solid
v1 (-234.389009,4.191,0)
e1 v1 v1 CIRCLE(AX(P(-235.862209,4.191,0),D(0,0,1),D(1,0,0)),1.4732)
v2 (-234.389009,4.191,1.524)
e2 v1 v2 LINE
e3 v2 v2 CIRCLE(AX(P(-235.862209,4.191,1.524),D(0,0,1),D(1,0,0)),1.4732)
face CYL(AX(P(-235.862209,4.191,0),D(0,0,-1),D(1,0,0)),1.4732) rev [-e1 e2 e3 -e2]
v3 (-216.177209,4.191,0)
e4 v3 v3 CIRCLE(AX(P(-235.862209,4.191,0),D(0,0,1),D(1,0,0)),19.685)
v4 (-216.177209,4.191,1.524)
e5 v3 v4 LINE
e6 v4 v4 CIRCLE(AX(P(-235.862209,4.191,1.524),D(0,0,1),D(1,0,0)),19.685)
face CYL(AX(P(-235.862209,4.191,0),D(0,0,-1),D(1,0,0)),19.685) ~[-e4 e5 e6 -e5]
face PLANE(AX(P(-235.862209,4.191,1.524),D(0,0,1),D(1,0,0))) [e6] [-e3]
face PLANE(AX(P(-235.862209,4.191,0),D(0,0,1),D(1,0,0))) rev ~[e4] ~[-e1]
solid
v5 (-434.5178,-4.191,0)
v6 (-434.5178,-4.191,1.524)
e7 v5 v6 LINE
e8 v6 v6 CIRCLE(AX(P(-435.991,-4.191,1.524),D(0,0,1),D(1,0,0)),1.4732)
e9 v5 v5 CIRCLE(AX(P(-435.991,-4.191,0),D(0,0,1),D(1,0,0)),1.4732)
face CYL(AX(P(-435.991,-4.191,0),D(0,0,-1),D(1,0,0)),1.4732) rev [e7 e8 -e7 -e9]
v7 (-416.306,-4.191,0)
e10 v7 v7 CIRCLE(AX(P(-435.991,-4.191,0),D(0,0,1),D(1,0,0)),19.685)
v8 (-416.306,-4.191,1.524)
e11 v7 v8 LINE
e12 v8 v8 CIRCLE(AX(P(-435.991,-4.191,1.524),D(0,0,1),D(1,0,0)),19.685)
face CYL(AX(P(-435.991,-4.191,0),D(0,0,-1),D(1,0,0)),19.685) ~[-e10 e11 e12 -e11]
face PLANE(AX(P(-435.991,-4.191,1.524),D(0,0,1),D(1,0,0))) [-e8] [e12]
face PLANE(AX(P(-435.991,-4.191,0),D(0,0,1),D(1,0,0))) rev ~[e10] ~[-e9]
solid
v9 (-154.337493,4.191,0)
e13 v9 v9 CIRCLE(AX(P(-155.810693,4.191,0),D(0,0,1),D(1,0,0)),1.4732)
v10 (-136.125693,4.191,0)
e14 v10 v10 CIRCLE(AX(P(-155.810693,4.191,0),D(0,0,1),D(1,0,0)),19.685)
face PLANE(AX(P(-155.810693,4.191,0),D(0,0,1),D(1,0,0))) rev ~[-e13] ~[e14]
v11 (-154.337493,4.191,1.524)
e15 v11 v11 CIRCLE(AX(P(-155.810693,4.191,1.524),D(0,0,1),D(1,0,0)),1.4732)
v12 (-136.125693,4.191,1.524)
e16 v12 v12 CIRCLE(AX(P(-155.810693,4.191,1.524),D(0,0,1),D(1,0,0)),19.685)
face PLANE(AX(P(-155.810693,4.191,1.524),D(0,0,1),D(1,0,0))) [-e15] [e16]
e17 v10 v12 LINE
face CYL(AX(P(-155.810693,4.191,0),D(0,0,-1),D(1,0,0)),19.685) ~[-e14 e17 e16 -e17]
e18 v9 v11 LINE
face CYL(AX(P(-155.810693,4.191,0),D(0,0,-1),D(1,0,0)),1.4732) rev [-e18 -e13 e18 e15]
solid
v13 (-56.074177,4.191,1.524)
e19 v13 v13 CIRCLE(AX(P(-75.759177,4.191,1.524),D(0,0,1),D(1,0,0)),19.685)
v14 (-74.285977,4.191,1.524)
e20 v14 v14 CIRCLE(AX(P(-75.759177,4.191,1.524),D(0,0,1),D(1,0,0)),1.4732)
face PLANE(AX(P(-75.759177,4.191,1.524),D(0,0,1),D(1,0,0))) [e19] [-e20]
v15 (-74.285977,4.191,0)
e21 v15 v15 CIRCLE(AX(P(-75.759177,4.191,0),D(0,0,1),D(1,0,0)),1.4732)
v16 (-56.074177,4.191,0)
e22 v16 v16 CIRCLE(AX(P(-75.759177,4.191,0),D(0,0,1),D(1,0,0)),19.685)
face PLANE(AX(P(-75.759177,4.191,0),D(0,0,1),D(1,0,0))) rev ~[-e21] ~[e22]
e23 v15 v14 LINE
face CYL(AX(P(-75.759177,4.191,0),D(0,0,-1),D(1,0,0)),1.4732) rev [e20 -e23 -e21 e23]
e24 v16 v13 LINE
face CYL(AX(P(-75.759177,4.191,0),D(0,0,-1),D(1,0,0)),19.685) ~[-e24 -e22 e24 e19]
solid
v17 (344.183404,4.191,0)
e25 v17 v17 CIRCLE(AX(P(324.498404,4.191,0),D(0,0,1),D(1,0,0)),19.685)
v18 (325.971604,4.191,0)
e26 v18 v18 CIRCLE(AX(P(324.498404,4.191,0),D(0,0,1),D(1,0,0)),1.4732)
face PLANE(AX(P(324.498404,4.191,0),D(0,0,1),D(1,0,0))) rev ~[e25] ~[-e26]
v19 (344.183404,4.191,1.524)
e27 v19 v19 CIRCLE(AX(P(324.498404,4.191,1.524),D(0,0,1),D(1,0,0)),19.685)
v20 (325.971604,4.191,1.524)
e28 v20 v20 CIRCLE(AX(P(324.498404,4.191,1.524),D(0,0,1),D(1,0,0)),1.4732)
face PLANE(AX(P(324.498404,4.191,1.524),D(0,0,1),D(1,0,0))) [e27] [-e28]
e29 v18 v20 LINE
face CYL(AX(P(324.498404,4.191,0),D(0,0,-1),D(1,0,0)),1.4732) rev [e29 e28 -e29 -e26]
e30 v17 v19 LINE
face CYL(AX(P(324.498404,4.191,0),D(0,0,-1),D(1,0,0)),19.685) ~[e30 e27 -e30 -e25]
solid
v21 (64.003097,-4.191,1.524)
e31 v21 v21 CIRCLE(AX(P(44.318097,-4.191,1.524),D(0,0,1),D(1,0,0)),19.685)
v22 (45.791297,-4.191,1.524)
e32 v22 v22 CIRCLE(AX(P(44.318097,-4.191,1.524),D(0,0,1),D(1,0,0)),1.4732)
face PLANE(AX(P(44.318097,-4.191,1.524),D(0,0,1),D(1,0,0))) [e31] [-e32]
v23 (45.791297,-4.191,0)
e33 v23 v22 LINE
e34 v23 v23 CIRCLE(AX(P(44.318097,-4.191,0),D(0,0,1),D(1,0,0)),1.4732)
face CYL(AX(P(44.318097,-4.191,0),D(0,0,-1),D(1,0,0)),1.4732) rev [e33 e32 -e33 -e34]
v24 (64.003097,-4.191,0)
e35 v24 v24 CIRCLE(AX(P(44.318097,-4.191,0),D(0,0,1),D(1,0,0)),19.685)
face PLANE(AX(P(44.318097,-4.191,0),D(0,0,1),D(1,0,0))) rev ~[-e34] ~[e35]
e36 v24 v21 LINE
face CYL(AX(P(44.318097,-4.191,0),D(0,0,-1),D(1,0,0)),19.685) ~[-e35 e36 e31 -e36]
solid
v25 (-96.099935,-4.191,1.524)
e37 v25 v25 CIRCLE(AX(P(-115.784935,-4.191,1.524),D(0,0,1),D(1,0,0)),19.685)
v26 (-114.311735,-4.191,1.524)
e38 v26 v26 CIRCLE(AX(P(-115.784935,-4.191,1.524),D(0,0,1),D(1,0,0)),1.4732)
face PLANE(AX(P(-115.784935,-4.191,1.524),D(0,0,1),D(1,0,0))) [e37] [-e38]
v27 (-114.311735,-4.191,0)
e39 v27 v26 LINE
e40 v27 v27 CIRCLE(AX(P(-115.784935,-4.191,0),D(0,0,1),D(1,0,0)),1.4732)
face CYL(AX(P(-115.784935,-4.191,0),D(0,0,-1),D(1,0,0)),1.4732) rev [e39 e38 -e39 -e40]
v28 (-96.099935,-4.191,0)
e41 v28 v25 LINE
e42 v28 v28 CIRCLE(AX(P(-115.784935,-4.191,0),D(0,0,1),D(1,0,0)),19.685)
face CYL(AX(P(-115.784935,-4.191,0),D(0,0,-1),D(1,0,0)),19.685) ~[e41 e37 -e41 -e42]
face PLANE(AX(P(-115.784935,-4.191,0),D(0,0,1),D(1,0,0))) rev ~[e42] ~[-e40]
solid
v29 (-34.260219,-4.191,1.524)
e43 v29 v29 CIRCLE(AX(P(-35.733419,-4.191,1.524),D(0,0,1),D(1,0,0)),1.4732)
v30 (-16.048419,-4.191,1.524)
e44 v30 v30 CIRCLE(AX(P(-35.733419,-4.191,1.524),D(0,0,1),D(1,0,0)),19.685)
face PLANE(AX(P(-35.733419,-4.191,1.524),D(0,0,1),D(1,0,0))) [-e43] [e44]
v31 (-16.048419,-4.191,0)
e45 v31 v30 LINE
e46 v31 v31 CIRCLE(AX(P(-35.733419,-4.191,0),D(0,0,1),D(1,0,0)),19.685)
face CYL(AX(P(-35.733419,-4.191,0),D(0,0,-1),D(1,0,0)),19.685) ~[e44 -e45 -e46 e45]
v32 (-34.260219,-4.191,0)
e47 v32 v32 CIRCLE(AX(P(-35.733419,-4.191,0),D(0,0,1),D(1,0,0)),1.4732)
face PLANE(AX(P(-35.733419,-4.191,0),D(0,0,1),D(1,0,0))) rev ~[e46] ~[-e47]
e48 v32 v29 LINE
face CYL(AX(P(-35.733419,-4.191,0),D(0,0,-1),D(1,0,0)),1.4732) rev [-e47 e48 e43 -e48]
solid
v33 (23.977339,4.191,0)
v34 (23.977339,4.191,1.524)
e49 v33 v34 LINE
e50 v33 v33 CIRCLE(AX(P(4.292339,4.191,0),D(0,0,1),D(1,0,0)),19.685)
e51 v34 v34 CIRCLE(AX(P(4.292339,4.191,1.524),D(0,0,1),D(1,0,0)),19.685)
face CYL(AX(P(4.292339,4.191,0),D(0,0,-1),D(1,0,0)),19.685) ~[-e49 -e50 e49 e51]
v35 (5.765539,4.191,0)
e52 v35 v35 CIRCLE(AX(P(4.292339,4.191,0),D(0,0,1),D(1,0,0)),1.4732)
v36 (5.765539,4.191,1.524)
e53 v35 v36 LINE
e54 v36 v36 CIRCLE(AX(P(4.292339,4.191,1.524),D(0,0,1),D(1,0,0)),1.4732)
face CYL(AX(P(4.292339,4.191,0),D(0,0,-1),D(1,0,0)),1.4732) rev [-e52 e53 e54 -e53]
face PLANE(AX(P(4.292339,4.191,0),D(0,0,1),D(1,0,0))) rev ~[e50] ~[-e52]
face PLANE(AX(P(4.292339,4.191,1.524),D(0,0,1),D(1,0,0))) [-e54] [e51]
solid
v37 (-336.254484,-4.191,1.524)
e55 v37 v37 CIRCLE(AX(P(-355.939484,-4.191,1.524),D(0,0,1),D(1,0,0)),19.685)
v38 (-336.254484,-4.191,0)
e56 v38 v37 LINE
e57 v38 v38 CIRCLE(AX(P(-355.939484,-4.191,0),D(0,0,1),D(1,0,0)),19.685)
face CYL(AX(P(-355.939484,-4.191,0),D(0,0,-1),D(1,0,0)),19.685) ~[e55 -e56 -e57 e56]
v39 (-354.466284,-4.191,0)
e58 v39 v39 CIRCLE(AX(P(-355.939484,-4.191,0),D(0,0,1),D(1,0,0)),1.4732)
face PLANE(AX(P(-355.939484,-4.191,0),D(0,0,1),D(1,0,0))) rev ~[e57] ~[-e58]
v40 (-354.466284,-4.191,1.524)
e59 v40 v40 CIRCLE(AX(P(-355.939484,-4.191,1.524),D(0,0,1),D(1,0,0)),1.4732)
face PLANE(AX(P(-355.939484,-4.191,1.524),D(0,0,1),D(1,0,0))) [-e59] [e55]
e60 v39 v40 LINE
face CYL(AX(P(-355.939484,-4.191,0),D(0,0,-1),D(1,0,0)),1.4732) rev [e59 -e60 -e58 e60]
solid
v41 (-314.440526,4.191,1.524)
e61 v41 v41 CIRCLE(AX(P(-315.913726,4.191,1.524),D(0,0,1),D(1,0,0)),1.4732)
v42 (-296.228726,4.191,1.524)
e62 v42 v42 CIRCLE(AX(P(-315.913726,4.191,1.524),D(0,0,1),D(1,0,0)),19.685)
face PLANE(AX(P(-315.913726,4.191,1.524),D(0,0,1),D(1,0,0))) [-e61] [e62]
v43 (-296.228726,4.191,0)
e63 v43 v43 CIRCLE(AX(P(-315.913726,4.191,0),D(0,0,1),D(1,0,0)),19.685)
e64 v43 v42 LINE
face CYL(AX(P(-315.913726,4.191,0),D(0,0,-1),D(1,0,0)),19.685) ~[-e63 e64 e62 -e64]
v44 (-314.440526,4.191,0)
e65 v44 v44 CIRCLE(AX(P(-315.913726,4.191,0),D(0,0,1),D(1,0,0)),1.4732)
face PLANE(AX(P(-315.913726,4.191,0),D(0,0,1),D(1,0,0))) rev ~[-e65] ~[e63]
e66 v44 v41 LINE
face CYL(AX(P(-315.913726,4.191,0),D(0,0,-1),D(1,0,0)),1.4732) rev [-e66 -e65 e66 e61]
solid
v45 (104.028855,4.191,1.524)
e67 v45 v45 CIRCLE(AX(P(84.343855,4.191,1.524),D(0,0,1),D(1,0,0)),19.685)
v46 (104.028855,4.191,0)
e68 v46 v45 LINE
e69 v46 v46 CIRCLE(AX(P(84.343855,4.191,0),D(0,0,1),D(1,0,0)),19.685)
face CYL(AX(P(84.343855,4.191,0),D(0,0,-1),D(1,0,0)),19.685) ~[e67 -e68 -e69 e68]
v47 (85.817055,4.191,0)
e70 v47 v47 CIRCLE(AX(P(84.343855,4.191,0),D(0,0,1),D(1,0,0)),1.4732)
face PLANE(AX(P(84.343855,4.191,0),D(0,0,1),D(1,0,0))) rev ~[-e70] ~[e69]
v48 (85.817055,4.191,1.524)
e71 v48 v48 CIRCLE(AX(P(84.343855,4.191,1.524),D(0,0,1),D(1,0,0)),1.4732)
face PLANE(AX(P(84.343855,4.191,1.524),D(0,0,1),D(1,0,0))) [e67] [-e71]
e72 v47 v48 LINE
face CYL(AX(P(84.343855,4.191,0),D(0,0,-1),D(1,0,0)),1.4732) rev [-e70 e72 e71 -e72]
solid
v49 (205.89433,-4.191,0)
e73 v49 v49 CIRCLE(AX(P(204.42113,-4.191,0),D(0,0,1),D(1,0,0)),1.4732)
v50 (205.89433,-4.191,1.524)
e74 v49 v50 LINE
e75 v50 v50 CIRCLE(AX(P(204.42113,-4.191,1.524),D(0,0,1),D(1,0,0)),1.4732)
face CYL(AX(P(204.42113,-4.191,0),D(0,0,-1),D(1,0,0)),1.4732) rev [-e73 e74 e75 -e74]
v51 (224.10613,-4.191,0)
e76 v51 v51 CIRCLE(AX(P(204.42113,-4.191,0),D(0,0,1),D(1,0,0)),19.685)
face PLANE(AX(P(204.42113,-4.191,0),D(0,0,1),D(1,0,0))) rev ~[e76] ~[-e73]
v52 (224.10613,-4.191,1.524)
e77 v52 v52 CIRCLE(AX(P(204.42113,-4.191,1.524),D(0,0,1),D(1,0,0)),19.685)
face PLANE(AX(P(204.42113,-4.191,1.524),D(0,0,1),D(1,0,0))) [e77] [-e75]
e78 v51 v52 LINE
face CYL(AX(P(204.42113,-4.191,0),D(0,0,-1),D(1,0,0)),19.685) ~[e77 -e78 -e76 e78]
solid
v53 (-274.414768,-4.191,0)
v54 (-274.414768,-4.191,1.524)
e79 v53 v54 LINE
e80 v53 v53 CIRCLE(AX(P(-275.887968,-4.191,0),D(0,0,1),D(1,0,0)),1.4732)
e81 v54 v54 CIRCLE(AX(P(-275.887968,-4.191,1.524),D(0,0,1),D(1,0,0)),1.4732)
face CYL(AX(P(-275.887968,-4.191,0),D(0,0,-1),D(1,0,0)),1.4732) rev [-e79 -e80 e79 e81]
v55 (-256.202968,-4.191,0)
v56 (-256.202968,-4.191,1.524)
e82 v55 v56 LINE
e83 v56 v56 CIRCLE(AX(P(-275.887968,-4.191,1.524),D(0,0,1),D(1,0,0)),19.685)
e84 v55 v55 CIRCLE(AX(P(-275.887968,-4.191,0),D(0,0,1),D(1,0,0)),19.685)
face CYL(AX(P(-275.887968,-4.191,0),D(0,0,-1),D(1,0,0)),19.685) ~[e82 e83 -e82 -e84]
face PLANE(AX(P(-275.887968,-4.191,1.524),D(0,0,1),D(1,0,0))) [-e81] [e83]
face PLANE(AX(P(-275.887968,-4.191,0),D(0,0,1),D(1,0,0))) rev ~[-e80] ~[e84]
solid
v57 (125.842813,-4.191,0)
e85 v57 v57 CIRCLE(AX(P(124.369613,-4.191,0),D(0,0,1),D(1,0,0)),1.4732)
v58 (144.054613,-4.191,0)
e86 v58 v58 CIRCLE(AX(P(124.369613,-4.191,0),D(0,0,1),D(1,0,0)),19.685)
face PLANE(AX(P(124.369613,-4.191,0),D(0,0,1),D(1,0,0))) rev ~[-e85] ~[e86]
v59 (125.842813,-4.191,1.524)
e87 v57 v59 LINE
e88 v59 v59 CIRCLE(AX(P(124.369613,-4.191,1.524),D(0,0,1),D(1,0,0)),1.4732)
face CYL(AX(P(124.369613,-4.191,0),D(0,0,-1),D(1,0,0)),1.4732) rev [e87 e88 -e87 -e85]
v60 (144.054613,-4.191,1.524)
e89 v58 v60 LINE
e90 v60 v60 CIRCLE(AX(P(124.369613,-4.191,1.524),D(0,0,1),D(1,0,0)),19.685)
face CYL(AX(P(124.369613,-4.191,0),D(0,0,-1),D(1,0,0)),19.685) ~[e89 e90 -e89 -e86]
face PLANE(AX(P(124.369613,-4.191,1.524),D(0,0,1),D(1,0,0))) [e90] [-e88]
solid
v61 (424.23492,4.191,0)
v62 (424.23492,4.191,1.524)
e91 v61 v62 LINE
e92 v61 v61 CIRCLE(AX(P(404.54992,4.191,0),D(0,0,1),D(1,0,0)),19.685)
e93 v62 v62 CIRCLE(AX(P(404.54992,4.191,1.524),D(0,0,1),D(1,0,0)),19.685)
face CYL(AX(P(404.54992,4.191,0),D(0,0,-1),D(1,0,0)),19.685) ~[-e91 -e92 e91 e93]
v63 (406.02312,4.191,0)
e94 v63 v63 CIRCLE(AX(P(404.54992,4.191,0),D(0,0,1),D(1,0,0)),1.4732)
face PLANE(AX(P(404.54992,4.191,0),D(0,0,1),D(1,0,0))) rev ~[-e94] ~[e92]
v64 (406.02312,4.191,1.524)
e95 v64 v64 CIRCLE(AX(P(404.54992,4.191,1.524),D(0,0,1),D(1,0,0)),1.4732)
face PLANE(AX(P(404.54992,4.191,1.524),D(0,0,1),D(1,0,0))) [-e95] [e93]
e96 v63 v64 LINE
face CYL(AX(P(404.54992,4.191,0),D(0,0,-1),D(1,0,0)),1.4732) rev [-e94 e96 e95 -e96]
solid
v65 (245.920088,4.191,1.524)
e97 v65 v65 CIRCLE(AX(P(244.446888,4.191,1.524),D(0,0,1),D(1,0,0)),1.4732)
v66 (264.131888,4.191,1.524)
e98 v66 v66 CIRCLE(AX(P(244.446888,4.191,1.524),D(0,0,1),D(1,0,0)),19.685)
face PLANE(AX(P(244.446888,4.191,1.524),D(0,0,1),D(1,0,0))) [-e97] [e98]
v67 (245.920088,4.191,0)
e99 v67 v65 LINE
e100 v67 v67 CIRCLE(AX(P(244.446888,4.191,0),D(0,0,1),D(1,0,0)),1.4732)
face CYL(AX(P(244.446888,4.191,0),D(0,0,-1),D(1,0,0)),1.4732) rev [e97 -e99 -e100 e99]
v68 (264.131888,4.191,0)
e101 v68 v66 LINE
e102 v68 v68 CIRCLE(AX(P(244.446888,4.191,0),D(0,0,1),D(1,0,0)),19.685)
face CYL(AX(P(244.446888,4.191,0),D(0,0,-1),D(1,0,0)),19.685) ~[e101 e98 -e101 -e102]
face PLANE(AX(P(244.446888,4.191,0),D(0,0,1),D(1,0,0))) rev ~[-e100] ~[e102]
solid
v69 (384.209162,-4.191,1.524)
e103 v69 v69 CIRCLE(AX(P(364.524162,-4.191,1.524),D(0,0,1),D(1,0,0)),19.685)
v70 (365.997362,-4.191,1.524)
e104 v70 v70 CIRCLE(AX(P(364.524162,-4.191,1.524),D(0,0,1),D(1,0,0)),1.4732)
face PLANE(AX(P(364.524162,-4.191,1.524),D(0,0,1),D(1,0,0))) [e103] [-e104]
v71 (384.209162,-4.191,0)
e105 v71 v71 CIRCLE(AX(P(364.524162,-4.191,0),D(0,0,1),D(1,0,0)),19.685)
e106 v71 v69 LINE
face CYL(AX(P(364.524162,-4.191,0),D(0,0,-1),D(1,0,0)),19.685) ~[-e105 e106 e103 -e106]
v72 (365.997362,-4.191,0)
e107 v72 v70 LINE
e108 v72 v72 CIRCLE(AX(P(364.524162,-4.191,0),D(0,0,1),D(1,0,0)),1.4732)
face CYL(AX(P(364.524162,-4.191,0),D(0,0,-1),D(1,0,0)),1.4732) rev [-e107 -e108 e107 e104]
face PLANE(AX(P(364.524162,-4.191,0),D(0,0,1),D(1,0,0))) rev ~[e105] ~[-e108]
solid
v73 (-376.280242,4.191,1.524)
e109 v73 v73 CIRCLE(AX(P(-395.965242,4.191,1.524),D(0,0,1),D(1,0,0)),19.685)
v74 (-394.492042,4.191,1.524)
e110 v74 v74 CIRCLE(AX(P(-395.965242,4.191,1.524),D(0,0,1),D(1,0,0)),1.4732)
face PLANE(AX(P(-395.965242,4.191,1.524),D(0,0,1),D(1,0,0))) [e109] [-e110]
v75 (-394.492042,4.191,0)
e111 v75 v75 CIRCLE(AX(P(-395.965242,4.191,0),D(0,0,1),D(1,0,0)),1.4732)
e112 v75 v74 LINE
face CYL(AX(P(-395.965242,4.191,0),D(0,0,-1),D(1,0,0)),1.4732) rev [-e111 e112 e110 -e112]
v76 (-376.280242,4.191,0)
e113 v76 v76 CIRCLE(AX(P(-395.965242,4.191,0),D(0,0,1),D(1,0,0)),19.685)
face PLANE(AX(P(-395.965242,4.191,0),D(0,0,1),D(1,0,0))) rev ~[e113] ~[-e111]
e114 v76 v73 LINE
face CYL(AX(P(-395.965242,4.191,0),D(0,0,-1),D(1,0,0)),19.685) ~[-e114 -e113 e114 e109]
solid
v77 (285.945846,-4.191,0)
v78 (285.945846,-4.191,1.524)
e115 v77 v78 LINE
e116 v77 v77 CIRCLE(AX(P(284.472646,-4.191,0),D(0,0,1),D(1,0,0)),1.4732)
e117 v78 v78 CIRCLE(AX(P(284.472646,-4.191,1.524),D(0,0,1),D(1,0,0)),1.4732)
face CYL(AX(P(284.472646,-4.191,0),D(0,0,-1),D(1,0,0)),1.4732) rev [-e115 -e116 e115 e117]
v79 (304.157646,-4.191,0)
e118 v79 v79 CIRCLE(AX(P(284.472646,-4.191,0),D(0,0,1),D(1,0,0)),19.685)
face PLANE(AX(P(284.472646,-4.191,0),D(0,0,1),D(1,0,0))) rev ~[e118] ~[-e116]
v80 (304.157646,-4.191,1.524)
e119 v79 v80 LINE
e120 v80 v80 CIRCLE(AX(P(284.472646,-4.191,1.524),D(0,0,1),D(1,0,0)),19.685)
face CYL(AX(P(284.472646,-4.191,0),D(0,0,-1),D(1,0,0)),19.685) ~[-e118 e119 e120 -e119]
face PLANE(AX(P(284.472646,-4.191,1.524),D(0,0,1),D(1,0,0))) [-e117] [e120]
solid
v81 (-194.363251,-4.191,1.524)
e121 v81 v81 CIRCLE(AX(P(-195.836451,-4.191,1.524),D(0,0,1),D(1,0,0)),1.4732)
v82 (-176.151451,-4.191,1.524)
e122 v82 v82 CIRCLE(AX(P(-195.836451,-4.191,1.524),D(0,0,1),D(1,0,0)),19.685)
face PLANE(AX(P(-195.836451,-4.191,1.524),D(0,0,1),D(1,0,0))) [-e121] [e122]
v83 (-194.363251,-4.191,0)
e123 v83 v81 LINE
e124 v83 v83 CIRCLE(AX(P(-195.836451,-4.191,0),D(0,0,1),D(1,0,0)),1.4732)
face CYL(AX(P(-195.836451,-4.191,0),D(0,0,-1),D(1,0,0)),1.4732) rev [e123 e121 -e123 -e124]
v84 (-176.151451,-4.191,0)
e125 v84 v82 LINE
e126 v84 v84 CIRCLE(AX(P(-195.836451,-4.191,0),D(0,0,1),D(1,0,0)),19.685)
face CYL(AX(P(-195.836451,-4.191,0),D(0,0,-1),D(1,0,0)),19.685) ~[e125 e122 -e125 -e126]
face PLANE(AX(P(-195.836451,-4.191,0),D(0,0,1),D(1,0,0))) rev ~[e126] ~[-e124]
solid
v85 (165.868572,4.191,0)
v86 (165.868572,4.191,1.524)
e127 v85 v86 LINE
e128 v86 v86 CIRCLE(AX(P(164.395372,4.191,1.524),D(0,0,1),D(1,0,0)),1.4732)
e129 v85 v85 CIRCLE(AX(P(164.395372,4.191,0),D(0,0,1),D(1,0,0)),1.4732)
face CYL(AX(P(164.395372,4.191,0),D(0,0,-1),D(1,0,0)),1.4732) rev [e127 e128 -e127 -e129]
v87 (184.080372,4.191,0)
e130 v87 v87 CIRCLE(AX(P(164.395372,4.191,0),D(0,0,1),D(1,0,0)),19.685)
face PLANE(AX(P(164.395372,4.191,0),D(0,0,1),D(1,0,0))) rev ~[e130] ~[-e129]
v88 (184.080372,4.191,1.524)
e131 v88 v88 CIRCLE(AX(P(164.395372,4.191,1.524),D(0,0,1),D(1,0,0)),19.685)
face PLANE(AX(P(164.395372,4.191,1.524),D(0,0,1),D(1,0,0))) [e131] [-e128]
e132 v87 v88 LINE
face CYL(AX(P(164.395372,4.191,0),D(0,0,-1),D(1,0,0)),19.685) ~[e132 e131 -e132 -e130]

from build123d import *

# Parameters (mm, degrees)
SKETCH1_R              = 19.685
SKETCH1_R_2            = 1.4732
BOSS_EXTRUDE1_DEPTH    = 1.524
BOSS_EXTRUDE1_2_DEPTH  = 1.524
BOSS_EXTRUDE1_3_DEPTH  = 1.524
BOSS_EXTRUDE1_4_DEPTH  = 1.524
BOSS_EXTRUDE1_5_DEPTH  = 1.524
BOSS_EXTRUDE1_6_DEPTH  = 1.524
BOSS_EXTRUDE1_7_DEPTH  = 1.524
BOSS_EXTRUDE1_8_DEPTH  = 1.524
BOSS_EXTRUDE1_9_DEPTH  = 1.524
BOSS_EXTRUDE1_10_DEPTH = 1.524
BOSS_EXTRUDE1_11_DEPTH = 1.524
BOSS_EXTRUDE1_12_DEPTH = 1.524
BOSS_EXTRUDE1_13_DEPTH = 1.524
BOSS_EXTRUDE1_14_DEPTH = 1.524
BOSS_EXTRUDE1_15_DEPTH = 1.524
BOSS_EXTRUDE1_16_DEPTH = 1.524
BOSS_EXTRUDE1_17_DEPTH = 1.524
BOSS_EXTRUDE1_18_DEPTH = 1.524
BOSS_EXTRUDE1_19_DEPTH = 1.524
BOSS_EXTRUDE1_20_DEPTH = 1.524
BOSS_EXTRUDE1_21_DEPTH = 1.524
BOSS_EXTRUDE1_22_DEPTH = 1.524


with BuildPart() as part:
    # Sketch1 → Boss-Extrude1 (new body)
    with BuildSketch(Plane.XY):
        with Locations((-435.991, -4.191)):
            Circle(SKETCH1_R)
        with Locations((-435.991, -4.191)):
            Circle(SKETCH1_R_2, mode=Mode.SUBTRACT)
    extrude(amount=BOSS_EXTRUDE1_DEPTH)


with BuildPart() as body_2:
    # Sketch1 → Boss-Extrude1 2 (new body)
    with BuildSketch(Plane.XY):
        with Locations((-395.965241894, 4.191)):
            Circle(SKETCH1_R)
        with Locations((-395.965241894, 4.191)):
            Circle(SKETCH1_R_2, mode=Mode.SUBTRACT)
    extrude(amount=BOSS_EXTRUDE1_2_DEPTH)


with BuildPart() as body_3:
    # Sketch1 → Boss-Extrude1 3 (new body)
    with BuildSketch(Plane.XY):
        with Locations((-355.939483787, -4.191)):
            Circle(SKETCH1_R)
        with Locations((-355.939483787, -4.191)):
            Circle(SKETCH1_R_2, mode=Mode.SUBTRACT)
    extrude(amount=BOSS_EXTRUDE1_3_DEPTH)


with BuildPart() as body_4:
    # Sketch1 → Boss-Extrude1 4 (new body)
    with BuildSketch(Plane.XY):
        with Locations((-315.913725681, 4.191)):
            Circle(SKETCH1_R)
        with Locations((-315.913725681, 4.191)):
            Circle(SKETCH1_R_2, mode=Mode.SUBTRACT)
    extrude(amount=BOSS_EXTRUDE1_4_DEPTH)


with BuildPart() as body_5:
    # Sketch1 → Boss-Extrude1 5 (new body)
    with BuildSketch(Plane.XY):
        with Locations((-275.887967574, -4.191)):
            Circle(SKETCH1_R)
        with Locations((-275.887967574, -4.191)):
            Circle(SKETCH1_R_2, mode=Mode.SUBTRACT)
    extrude(amount=BOSS_EXTRUDE1_5_DEPTH)


with BuildPart() as body_6:
    # Sketch1 → Boss-Extrude1 6 (new body)
    with BuildSketch(Plane.XY):
        with Locations((-235.862209468, 4.191)):
            Circle(SKETCH1_R)
        with Locations((-235.862209468, 4.191)):
            Circle(SKETCH1_R_2, mode=Mode.SUBTRACT)
    extrude(amount=BOSS_EXTRUDE1_6_DEPTH)


with BuildPart() as body_7:
    # Sketch1 → Boss-Extrude1 7 (new body)
    with BuildSketch(Plane.XY):
        with Locations((-195.836451361, -4.191)):
            Circle(SKETCH1_R)
        with Locations((-195.836451361, -4.191)):
            Circle(SKETCH1_R_2, mode=Mode.SUBTRACT)
    extrude(amount=BOSS_EXTRUDE1_7_DEPTH)


with BuildPart() as body_8:
    # Sketch1 → Boss-Extrude1 8 (new body)
    with BuildSketch(Plane.XY):
        with Locations((-155.810693255, 4.191)):
            Circle(SKETCH1_R)
        with Locations((-155.810693255, 4.191)):
            Circle(SKETCH1_R_2, mode=Mode.SUBTRACT)
    extrude(amount=BOSS_EXTRUDE1_8_DEPTH)


with BuildPart() as body_9:
    # Sketch1 → Boss-Extrude1 9 (new body)
    with BuildSketch(Plane.XY):
        with Locations((-115.784935148, -4.191)):
            Circle(SKETCH1_R)
        with Locations((-115.784935148, -4.191)):
            Circle(SKETCH1_R_2, mode=Mode.SUBTRACT)
    extrude(amount=BOSS_EXTRUDE1_9_DEPTH)


with BuildPart() as body_10:
    # Sketch1 → Boss-Extrude1 10 (new body)
    with BuildSketch(Plane.XY):
        with Locations((-75.759177042, 4.191)):
            Circle(SKETCH1_R)
        with Locations((-75.759177042, 4.191)):
            Circle(SKETCH1_R_2, mode=Mode.SUBTRACT)
    extrude(amount=BOSS_EXTRUDE1_10_DEPTH)


with BuildPart() as body_11:
    # Sketch1 → Boss-Extrude1 11 (new body)
    with BuildSketch(Plane.XY):
        with Locations((-35.733418935, -4.191)):
            Circle(SKETCH1_R)
        with Locations((-35.733418935, -4.191)):
            Circle(SKETCH1_R_2, mode=Mode.SUBTRACT)
    extrude(amount=BOSS_EXTRUDE1_11_DEPTH)


with BuildPart() as body_12:
    # Sketch1 → Boss-Extrude1 12 (new body)
    with BuildSketch(Plane.XY):
        with Locations((4.292339171, 4.191)):
            Circle(SKETCH1_R)
        with Locations((4.292339171, 4.191)):
            Circle(SKETCH1_R_2, mode=Mode.SUBTRACT)
    extrude(amount=BOSS_EXTRUDE1_12_DEPTH)


with BuildPart() as body_13:
    # Sketch1 → Boss-Extrude1 13 (new body)
    with BuildSketch(Plane.XY):
        with Locations((44.318097278, -4.191)):
            Circle(SKETCH1_R)
        with Locations((44.318097278, -4.191)):
            Circle(SKETCH1_R_2, mode=Mode.SUBTRACT)
    extrude(amount=BOSS_EXTRUDE1_13_DEPTH)


with BuildPart() as body_14:
    # Sketch1 → Boss-Extrude1 14 (new body)
    with BuildSketch(Plane.XY):
        with Locations((84.343855384, 4.191)):
            Circle(SKETCH1_R)
        with Locations((84.343855384, 4.191)):
            Circle(SKETCH1_R_2, mode=Mode.SUBTRACT)
    extrude(amount=BOSS_EXTRUDE1_14_DEPTH)


with BuildPart() as body_15:
    # Sketch1 → Boss-Extrude1 15 (new body)
    with BuildSketch(Plane.XY):
        with Locations((124.369613491, -4.191)):
            Circle(SKETCH1_R)
        with Locations((124.369613491, -4.191)):
            Circle(SKETCH1_R_2, mode=Mode.SUBTRACT)
    extrude(amount=BOSS_EXTRUDE1_15_DEPTH)


with BuildPart() as body_16:
    # Sketch1 → Boss-Extrude1 16 (new body)
    with BuildSketch(Plane.XY):
        with Locations((164.395371597, 4.191)):
            Circle(SKETCH1_R)
        with Locations((164.395371597, 4.191)):
            Circle(SKETCH1_R_2, mode=Mode.SUBTRACT)
    extrude(amount=BOSS_EXTRUDE1_16_DEPTH)


with BuildPart() as body_17:
    # Sketch1 → Boss-Extrude1 17 (new body)
    with BuildSketch(Plane.XY):
        with Locations((204.421129704, -4.191)):
            Circle(SKETCH1_R)
        with Locations((204.421129704, -4.191)):
            Circle(SKETCH1_R_2, mode=Mode.SUBTRACT)
    extrude(amount=BOSS_EXTRUDE1_17_DEPTH)


with BuildPart() as body_18:
    # Sketch1 → Boss-Extrude1 18 (new body)
    with BuildSketch(Plane.XY):
        with Locations((244.44688781, 4.191)):
            Circle(SKETCH1_R)
        with Locations((244.44688781, 4.191)):
            Circle(SKETCH1_R_2, mode=Mode.SUBTRACT)
    extrude(amount=BOSS_EXTRUDE1_18_DEPTH)


with BuildPart() as body_19:
    # Sketch1 → Boss-Extrude1 19 (new body)
    with BuildSketch(Plane.XY):
        with Locations((284.472645917, -4.191)):
            Circle(SKETCH1_R)
        with Locations((284.472645917, -4.191)):
            Circle(SKETCH1_R_2, mode=Mode.SUBTRACT)
    extrude(amount=BOSS_EXTRUDE1_19_DEPTH)


with BuildPart() as body_20:
    # Sketch1 → Boss-Extrude1 20 (new body)
    with BuildSketch(Plane.XY):
        with Locations((324.498404023, 4.191)):
            Circle(SKETCH1_R)
        with Locations((324.498404023, 4.191)):
            Circle(SKETCH1_R_2, mode=Mode.SUBTRACT)
    extrude(amount=BOSS_EXTRUDE1_20_DEPTH)


with BuildPart() as body_21:
    # Sketch1 → Boss-Extrude1 21 (new body)
    with BuildSketch(Plane.XY):
        with Locations((364.52416213, -4.191)):
            Circle(SKETCH1_R)
        with Locations((364.52416213, -4.191)):
            Circle(SKETCH1_R_2, mode=Mode.SUBTRACT)
    extrude(amount=BOSS_EXTRUDE1_21_DEPTH)


with BuildPart() as body_22:
    # Sketch1 → Boss-Extrude1 22 (new body)
    with BuildSketch(Plane.XY):
        with Locations((404.549920236, 4.191)):
            Circle(SKETCH1_R)
        with Locations((404.549920236, 4.191)):
            Circle(SKETCH1_R_2, mode=Mode.SUBTRACT)
    extrude(amount=BOSS_EXTRUDE1_22_DEPTH)


solid = Compound([part.part, body_2.part, body_3.part, body_4.part, body_5.part, body_6.part, body_7.part, body_8.part, body_9.part, body_10.part, body_11.part, body_12.part, body_13.part, body_14.part, body_15.part, body_16.part, body_17.part, body_18.part, body_19.part, body_20.part, body_21.part, body_22.part])
